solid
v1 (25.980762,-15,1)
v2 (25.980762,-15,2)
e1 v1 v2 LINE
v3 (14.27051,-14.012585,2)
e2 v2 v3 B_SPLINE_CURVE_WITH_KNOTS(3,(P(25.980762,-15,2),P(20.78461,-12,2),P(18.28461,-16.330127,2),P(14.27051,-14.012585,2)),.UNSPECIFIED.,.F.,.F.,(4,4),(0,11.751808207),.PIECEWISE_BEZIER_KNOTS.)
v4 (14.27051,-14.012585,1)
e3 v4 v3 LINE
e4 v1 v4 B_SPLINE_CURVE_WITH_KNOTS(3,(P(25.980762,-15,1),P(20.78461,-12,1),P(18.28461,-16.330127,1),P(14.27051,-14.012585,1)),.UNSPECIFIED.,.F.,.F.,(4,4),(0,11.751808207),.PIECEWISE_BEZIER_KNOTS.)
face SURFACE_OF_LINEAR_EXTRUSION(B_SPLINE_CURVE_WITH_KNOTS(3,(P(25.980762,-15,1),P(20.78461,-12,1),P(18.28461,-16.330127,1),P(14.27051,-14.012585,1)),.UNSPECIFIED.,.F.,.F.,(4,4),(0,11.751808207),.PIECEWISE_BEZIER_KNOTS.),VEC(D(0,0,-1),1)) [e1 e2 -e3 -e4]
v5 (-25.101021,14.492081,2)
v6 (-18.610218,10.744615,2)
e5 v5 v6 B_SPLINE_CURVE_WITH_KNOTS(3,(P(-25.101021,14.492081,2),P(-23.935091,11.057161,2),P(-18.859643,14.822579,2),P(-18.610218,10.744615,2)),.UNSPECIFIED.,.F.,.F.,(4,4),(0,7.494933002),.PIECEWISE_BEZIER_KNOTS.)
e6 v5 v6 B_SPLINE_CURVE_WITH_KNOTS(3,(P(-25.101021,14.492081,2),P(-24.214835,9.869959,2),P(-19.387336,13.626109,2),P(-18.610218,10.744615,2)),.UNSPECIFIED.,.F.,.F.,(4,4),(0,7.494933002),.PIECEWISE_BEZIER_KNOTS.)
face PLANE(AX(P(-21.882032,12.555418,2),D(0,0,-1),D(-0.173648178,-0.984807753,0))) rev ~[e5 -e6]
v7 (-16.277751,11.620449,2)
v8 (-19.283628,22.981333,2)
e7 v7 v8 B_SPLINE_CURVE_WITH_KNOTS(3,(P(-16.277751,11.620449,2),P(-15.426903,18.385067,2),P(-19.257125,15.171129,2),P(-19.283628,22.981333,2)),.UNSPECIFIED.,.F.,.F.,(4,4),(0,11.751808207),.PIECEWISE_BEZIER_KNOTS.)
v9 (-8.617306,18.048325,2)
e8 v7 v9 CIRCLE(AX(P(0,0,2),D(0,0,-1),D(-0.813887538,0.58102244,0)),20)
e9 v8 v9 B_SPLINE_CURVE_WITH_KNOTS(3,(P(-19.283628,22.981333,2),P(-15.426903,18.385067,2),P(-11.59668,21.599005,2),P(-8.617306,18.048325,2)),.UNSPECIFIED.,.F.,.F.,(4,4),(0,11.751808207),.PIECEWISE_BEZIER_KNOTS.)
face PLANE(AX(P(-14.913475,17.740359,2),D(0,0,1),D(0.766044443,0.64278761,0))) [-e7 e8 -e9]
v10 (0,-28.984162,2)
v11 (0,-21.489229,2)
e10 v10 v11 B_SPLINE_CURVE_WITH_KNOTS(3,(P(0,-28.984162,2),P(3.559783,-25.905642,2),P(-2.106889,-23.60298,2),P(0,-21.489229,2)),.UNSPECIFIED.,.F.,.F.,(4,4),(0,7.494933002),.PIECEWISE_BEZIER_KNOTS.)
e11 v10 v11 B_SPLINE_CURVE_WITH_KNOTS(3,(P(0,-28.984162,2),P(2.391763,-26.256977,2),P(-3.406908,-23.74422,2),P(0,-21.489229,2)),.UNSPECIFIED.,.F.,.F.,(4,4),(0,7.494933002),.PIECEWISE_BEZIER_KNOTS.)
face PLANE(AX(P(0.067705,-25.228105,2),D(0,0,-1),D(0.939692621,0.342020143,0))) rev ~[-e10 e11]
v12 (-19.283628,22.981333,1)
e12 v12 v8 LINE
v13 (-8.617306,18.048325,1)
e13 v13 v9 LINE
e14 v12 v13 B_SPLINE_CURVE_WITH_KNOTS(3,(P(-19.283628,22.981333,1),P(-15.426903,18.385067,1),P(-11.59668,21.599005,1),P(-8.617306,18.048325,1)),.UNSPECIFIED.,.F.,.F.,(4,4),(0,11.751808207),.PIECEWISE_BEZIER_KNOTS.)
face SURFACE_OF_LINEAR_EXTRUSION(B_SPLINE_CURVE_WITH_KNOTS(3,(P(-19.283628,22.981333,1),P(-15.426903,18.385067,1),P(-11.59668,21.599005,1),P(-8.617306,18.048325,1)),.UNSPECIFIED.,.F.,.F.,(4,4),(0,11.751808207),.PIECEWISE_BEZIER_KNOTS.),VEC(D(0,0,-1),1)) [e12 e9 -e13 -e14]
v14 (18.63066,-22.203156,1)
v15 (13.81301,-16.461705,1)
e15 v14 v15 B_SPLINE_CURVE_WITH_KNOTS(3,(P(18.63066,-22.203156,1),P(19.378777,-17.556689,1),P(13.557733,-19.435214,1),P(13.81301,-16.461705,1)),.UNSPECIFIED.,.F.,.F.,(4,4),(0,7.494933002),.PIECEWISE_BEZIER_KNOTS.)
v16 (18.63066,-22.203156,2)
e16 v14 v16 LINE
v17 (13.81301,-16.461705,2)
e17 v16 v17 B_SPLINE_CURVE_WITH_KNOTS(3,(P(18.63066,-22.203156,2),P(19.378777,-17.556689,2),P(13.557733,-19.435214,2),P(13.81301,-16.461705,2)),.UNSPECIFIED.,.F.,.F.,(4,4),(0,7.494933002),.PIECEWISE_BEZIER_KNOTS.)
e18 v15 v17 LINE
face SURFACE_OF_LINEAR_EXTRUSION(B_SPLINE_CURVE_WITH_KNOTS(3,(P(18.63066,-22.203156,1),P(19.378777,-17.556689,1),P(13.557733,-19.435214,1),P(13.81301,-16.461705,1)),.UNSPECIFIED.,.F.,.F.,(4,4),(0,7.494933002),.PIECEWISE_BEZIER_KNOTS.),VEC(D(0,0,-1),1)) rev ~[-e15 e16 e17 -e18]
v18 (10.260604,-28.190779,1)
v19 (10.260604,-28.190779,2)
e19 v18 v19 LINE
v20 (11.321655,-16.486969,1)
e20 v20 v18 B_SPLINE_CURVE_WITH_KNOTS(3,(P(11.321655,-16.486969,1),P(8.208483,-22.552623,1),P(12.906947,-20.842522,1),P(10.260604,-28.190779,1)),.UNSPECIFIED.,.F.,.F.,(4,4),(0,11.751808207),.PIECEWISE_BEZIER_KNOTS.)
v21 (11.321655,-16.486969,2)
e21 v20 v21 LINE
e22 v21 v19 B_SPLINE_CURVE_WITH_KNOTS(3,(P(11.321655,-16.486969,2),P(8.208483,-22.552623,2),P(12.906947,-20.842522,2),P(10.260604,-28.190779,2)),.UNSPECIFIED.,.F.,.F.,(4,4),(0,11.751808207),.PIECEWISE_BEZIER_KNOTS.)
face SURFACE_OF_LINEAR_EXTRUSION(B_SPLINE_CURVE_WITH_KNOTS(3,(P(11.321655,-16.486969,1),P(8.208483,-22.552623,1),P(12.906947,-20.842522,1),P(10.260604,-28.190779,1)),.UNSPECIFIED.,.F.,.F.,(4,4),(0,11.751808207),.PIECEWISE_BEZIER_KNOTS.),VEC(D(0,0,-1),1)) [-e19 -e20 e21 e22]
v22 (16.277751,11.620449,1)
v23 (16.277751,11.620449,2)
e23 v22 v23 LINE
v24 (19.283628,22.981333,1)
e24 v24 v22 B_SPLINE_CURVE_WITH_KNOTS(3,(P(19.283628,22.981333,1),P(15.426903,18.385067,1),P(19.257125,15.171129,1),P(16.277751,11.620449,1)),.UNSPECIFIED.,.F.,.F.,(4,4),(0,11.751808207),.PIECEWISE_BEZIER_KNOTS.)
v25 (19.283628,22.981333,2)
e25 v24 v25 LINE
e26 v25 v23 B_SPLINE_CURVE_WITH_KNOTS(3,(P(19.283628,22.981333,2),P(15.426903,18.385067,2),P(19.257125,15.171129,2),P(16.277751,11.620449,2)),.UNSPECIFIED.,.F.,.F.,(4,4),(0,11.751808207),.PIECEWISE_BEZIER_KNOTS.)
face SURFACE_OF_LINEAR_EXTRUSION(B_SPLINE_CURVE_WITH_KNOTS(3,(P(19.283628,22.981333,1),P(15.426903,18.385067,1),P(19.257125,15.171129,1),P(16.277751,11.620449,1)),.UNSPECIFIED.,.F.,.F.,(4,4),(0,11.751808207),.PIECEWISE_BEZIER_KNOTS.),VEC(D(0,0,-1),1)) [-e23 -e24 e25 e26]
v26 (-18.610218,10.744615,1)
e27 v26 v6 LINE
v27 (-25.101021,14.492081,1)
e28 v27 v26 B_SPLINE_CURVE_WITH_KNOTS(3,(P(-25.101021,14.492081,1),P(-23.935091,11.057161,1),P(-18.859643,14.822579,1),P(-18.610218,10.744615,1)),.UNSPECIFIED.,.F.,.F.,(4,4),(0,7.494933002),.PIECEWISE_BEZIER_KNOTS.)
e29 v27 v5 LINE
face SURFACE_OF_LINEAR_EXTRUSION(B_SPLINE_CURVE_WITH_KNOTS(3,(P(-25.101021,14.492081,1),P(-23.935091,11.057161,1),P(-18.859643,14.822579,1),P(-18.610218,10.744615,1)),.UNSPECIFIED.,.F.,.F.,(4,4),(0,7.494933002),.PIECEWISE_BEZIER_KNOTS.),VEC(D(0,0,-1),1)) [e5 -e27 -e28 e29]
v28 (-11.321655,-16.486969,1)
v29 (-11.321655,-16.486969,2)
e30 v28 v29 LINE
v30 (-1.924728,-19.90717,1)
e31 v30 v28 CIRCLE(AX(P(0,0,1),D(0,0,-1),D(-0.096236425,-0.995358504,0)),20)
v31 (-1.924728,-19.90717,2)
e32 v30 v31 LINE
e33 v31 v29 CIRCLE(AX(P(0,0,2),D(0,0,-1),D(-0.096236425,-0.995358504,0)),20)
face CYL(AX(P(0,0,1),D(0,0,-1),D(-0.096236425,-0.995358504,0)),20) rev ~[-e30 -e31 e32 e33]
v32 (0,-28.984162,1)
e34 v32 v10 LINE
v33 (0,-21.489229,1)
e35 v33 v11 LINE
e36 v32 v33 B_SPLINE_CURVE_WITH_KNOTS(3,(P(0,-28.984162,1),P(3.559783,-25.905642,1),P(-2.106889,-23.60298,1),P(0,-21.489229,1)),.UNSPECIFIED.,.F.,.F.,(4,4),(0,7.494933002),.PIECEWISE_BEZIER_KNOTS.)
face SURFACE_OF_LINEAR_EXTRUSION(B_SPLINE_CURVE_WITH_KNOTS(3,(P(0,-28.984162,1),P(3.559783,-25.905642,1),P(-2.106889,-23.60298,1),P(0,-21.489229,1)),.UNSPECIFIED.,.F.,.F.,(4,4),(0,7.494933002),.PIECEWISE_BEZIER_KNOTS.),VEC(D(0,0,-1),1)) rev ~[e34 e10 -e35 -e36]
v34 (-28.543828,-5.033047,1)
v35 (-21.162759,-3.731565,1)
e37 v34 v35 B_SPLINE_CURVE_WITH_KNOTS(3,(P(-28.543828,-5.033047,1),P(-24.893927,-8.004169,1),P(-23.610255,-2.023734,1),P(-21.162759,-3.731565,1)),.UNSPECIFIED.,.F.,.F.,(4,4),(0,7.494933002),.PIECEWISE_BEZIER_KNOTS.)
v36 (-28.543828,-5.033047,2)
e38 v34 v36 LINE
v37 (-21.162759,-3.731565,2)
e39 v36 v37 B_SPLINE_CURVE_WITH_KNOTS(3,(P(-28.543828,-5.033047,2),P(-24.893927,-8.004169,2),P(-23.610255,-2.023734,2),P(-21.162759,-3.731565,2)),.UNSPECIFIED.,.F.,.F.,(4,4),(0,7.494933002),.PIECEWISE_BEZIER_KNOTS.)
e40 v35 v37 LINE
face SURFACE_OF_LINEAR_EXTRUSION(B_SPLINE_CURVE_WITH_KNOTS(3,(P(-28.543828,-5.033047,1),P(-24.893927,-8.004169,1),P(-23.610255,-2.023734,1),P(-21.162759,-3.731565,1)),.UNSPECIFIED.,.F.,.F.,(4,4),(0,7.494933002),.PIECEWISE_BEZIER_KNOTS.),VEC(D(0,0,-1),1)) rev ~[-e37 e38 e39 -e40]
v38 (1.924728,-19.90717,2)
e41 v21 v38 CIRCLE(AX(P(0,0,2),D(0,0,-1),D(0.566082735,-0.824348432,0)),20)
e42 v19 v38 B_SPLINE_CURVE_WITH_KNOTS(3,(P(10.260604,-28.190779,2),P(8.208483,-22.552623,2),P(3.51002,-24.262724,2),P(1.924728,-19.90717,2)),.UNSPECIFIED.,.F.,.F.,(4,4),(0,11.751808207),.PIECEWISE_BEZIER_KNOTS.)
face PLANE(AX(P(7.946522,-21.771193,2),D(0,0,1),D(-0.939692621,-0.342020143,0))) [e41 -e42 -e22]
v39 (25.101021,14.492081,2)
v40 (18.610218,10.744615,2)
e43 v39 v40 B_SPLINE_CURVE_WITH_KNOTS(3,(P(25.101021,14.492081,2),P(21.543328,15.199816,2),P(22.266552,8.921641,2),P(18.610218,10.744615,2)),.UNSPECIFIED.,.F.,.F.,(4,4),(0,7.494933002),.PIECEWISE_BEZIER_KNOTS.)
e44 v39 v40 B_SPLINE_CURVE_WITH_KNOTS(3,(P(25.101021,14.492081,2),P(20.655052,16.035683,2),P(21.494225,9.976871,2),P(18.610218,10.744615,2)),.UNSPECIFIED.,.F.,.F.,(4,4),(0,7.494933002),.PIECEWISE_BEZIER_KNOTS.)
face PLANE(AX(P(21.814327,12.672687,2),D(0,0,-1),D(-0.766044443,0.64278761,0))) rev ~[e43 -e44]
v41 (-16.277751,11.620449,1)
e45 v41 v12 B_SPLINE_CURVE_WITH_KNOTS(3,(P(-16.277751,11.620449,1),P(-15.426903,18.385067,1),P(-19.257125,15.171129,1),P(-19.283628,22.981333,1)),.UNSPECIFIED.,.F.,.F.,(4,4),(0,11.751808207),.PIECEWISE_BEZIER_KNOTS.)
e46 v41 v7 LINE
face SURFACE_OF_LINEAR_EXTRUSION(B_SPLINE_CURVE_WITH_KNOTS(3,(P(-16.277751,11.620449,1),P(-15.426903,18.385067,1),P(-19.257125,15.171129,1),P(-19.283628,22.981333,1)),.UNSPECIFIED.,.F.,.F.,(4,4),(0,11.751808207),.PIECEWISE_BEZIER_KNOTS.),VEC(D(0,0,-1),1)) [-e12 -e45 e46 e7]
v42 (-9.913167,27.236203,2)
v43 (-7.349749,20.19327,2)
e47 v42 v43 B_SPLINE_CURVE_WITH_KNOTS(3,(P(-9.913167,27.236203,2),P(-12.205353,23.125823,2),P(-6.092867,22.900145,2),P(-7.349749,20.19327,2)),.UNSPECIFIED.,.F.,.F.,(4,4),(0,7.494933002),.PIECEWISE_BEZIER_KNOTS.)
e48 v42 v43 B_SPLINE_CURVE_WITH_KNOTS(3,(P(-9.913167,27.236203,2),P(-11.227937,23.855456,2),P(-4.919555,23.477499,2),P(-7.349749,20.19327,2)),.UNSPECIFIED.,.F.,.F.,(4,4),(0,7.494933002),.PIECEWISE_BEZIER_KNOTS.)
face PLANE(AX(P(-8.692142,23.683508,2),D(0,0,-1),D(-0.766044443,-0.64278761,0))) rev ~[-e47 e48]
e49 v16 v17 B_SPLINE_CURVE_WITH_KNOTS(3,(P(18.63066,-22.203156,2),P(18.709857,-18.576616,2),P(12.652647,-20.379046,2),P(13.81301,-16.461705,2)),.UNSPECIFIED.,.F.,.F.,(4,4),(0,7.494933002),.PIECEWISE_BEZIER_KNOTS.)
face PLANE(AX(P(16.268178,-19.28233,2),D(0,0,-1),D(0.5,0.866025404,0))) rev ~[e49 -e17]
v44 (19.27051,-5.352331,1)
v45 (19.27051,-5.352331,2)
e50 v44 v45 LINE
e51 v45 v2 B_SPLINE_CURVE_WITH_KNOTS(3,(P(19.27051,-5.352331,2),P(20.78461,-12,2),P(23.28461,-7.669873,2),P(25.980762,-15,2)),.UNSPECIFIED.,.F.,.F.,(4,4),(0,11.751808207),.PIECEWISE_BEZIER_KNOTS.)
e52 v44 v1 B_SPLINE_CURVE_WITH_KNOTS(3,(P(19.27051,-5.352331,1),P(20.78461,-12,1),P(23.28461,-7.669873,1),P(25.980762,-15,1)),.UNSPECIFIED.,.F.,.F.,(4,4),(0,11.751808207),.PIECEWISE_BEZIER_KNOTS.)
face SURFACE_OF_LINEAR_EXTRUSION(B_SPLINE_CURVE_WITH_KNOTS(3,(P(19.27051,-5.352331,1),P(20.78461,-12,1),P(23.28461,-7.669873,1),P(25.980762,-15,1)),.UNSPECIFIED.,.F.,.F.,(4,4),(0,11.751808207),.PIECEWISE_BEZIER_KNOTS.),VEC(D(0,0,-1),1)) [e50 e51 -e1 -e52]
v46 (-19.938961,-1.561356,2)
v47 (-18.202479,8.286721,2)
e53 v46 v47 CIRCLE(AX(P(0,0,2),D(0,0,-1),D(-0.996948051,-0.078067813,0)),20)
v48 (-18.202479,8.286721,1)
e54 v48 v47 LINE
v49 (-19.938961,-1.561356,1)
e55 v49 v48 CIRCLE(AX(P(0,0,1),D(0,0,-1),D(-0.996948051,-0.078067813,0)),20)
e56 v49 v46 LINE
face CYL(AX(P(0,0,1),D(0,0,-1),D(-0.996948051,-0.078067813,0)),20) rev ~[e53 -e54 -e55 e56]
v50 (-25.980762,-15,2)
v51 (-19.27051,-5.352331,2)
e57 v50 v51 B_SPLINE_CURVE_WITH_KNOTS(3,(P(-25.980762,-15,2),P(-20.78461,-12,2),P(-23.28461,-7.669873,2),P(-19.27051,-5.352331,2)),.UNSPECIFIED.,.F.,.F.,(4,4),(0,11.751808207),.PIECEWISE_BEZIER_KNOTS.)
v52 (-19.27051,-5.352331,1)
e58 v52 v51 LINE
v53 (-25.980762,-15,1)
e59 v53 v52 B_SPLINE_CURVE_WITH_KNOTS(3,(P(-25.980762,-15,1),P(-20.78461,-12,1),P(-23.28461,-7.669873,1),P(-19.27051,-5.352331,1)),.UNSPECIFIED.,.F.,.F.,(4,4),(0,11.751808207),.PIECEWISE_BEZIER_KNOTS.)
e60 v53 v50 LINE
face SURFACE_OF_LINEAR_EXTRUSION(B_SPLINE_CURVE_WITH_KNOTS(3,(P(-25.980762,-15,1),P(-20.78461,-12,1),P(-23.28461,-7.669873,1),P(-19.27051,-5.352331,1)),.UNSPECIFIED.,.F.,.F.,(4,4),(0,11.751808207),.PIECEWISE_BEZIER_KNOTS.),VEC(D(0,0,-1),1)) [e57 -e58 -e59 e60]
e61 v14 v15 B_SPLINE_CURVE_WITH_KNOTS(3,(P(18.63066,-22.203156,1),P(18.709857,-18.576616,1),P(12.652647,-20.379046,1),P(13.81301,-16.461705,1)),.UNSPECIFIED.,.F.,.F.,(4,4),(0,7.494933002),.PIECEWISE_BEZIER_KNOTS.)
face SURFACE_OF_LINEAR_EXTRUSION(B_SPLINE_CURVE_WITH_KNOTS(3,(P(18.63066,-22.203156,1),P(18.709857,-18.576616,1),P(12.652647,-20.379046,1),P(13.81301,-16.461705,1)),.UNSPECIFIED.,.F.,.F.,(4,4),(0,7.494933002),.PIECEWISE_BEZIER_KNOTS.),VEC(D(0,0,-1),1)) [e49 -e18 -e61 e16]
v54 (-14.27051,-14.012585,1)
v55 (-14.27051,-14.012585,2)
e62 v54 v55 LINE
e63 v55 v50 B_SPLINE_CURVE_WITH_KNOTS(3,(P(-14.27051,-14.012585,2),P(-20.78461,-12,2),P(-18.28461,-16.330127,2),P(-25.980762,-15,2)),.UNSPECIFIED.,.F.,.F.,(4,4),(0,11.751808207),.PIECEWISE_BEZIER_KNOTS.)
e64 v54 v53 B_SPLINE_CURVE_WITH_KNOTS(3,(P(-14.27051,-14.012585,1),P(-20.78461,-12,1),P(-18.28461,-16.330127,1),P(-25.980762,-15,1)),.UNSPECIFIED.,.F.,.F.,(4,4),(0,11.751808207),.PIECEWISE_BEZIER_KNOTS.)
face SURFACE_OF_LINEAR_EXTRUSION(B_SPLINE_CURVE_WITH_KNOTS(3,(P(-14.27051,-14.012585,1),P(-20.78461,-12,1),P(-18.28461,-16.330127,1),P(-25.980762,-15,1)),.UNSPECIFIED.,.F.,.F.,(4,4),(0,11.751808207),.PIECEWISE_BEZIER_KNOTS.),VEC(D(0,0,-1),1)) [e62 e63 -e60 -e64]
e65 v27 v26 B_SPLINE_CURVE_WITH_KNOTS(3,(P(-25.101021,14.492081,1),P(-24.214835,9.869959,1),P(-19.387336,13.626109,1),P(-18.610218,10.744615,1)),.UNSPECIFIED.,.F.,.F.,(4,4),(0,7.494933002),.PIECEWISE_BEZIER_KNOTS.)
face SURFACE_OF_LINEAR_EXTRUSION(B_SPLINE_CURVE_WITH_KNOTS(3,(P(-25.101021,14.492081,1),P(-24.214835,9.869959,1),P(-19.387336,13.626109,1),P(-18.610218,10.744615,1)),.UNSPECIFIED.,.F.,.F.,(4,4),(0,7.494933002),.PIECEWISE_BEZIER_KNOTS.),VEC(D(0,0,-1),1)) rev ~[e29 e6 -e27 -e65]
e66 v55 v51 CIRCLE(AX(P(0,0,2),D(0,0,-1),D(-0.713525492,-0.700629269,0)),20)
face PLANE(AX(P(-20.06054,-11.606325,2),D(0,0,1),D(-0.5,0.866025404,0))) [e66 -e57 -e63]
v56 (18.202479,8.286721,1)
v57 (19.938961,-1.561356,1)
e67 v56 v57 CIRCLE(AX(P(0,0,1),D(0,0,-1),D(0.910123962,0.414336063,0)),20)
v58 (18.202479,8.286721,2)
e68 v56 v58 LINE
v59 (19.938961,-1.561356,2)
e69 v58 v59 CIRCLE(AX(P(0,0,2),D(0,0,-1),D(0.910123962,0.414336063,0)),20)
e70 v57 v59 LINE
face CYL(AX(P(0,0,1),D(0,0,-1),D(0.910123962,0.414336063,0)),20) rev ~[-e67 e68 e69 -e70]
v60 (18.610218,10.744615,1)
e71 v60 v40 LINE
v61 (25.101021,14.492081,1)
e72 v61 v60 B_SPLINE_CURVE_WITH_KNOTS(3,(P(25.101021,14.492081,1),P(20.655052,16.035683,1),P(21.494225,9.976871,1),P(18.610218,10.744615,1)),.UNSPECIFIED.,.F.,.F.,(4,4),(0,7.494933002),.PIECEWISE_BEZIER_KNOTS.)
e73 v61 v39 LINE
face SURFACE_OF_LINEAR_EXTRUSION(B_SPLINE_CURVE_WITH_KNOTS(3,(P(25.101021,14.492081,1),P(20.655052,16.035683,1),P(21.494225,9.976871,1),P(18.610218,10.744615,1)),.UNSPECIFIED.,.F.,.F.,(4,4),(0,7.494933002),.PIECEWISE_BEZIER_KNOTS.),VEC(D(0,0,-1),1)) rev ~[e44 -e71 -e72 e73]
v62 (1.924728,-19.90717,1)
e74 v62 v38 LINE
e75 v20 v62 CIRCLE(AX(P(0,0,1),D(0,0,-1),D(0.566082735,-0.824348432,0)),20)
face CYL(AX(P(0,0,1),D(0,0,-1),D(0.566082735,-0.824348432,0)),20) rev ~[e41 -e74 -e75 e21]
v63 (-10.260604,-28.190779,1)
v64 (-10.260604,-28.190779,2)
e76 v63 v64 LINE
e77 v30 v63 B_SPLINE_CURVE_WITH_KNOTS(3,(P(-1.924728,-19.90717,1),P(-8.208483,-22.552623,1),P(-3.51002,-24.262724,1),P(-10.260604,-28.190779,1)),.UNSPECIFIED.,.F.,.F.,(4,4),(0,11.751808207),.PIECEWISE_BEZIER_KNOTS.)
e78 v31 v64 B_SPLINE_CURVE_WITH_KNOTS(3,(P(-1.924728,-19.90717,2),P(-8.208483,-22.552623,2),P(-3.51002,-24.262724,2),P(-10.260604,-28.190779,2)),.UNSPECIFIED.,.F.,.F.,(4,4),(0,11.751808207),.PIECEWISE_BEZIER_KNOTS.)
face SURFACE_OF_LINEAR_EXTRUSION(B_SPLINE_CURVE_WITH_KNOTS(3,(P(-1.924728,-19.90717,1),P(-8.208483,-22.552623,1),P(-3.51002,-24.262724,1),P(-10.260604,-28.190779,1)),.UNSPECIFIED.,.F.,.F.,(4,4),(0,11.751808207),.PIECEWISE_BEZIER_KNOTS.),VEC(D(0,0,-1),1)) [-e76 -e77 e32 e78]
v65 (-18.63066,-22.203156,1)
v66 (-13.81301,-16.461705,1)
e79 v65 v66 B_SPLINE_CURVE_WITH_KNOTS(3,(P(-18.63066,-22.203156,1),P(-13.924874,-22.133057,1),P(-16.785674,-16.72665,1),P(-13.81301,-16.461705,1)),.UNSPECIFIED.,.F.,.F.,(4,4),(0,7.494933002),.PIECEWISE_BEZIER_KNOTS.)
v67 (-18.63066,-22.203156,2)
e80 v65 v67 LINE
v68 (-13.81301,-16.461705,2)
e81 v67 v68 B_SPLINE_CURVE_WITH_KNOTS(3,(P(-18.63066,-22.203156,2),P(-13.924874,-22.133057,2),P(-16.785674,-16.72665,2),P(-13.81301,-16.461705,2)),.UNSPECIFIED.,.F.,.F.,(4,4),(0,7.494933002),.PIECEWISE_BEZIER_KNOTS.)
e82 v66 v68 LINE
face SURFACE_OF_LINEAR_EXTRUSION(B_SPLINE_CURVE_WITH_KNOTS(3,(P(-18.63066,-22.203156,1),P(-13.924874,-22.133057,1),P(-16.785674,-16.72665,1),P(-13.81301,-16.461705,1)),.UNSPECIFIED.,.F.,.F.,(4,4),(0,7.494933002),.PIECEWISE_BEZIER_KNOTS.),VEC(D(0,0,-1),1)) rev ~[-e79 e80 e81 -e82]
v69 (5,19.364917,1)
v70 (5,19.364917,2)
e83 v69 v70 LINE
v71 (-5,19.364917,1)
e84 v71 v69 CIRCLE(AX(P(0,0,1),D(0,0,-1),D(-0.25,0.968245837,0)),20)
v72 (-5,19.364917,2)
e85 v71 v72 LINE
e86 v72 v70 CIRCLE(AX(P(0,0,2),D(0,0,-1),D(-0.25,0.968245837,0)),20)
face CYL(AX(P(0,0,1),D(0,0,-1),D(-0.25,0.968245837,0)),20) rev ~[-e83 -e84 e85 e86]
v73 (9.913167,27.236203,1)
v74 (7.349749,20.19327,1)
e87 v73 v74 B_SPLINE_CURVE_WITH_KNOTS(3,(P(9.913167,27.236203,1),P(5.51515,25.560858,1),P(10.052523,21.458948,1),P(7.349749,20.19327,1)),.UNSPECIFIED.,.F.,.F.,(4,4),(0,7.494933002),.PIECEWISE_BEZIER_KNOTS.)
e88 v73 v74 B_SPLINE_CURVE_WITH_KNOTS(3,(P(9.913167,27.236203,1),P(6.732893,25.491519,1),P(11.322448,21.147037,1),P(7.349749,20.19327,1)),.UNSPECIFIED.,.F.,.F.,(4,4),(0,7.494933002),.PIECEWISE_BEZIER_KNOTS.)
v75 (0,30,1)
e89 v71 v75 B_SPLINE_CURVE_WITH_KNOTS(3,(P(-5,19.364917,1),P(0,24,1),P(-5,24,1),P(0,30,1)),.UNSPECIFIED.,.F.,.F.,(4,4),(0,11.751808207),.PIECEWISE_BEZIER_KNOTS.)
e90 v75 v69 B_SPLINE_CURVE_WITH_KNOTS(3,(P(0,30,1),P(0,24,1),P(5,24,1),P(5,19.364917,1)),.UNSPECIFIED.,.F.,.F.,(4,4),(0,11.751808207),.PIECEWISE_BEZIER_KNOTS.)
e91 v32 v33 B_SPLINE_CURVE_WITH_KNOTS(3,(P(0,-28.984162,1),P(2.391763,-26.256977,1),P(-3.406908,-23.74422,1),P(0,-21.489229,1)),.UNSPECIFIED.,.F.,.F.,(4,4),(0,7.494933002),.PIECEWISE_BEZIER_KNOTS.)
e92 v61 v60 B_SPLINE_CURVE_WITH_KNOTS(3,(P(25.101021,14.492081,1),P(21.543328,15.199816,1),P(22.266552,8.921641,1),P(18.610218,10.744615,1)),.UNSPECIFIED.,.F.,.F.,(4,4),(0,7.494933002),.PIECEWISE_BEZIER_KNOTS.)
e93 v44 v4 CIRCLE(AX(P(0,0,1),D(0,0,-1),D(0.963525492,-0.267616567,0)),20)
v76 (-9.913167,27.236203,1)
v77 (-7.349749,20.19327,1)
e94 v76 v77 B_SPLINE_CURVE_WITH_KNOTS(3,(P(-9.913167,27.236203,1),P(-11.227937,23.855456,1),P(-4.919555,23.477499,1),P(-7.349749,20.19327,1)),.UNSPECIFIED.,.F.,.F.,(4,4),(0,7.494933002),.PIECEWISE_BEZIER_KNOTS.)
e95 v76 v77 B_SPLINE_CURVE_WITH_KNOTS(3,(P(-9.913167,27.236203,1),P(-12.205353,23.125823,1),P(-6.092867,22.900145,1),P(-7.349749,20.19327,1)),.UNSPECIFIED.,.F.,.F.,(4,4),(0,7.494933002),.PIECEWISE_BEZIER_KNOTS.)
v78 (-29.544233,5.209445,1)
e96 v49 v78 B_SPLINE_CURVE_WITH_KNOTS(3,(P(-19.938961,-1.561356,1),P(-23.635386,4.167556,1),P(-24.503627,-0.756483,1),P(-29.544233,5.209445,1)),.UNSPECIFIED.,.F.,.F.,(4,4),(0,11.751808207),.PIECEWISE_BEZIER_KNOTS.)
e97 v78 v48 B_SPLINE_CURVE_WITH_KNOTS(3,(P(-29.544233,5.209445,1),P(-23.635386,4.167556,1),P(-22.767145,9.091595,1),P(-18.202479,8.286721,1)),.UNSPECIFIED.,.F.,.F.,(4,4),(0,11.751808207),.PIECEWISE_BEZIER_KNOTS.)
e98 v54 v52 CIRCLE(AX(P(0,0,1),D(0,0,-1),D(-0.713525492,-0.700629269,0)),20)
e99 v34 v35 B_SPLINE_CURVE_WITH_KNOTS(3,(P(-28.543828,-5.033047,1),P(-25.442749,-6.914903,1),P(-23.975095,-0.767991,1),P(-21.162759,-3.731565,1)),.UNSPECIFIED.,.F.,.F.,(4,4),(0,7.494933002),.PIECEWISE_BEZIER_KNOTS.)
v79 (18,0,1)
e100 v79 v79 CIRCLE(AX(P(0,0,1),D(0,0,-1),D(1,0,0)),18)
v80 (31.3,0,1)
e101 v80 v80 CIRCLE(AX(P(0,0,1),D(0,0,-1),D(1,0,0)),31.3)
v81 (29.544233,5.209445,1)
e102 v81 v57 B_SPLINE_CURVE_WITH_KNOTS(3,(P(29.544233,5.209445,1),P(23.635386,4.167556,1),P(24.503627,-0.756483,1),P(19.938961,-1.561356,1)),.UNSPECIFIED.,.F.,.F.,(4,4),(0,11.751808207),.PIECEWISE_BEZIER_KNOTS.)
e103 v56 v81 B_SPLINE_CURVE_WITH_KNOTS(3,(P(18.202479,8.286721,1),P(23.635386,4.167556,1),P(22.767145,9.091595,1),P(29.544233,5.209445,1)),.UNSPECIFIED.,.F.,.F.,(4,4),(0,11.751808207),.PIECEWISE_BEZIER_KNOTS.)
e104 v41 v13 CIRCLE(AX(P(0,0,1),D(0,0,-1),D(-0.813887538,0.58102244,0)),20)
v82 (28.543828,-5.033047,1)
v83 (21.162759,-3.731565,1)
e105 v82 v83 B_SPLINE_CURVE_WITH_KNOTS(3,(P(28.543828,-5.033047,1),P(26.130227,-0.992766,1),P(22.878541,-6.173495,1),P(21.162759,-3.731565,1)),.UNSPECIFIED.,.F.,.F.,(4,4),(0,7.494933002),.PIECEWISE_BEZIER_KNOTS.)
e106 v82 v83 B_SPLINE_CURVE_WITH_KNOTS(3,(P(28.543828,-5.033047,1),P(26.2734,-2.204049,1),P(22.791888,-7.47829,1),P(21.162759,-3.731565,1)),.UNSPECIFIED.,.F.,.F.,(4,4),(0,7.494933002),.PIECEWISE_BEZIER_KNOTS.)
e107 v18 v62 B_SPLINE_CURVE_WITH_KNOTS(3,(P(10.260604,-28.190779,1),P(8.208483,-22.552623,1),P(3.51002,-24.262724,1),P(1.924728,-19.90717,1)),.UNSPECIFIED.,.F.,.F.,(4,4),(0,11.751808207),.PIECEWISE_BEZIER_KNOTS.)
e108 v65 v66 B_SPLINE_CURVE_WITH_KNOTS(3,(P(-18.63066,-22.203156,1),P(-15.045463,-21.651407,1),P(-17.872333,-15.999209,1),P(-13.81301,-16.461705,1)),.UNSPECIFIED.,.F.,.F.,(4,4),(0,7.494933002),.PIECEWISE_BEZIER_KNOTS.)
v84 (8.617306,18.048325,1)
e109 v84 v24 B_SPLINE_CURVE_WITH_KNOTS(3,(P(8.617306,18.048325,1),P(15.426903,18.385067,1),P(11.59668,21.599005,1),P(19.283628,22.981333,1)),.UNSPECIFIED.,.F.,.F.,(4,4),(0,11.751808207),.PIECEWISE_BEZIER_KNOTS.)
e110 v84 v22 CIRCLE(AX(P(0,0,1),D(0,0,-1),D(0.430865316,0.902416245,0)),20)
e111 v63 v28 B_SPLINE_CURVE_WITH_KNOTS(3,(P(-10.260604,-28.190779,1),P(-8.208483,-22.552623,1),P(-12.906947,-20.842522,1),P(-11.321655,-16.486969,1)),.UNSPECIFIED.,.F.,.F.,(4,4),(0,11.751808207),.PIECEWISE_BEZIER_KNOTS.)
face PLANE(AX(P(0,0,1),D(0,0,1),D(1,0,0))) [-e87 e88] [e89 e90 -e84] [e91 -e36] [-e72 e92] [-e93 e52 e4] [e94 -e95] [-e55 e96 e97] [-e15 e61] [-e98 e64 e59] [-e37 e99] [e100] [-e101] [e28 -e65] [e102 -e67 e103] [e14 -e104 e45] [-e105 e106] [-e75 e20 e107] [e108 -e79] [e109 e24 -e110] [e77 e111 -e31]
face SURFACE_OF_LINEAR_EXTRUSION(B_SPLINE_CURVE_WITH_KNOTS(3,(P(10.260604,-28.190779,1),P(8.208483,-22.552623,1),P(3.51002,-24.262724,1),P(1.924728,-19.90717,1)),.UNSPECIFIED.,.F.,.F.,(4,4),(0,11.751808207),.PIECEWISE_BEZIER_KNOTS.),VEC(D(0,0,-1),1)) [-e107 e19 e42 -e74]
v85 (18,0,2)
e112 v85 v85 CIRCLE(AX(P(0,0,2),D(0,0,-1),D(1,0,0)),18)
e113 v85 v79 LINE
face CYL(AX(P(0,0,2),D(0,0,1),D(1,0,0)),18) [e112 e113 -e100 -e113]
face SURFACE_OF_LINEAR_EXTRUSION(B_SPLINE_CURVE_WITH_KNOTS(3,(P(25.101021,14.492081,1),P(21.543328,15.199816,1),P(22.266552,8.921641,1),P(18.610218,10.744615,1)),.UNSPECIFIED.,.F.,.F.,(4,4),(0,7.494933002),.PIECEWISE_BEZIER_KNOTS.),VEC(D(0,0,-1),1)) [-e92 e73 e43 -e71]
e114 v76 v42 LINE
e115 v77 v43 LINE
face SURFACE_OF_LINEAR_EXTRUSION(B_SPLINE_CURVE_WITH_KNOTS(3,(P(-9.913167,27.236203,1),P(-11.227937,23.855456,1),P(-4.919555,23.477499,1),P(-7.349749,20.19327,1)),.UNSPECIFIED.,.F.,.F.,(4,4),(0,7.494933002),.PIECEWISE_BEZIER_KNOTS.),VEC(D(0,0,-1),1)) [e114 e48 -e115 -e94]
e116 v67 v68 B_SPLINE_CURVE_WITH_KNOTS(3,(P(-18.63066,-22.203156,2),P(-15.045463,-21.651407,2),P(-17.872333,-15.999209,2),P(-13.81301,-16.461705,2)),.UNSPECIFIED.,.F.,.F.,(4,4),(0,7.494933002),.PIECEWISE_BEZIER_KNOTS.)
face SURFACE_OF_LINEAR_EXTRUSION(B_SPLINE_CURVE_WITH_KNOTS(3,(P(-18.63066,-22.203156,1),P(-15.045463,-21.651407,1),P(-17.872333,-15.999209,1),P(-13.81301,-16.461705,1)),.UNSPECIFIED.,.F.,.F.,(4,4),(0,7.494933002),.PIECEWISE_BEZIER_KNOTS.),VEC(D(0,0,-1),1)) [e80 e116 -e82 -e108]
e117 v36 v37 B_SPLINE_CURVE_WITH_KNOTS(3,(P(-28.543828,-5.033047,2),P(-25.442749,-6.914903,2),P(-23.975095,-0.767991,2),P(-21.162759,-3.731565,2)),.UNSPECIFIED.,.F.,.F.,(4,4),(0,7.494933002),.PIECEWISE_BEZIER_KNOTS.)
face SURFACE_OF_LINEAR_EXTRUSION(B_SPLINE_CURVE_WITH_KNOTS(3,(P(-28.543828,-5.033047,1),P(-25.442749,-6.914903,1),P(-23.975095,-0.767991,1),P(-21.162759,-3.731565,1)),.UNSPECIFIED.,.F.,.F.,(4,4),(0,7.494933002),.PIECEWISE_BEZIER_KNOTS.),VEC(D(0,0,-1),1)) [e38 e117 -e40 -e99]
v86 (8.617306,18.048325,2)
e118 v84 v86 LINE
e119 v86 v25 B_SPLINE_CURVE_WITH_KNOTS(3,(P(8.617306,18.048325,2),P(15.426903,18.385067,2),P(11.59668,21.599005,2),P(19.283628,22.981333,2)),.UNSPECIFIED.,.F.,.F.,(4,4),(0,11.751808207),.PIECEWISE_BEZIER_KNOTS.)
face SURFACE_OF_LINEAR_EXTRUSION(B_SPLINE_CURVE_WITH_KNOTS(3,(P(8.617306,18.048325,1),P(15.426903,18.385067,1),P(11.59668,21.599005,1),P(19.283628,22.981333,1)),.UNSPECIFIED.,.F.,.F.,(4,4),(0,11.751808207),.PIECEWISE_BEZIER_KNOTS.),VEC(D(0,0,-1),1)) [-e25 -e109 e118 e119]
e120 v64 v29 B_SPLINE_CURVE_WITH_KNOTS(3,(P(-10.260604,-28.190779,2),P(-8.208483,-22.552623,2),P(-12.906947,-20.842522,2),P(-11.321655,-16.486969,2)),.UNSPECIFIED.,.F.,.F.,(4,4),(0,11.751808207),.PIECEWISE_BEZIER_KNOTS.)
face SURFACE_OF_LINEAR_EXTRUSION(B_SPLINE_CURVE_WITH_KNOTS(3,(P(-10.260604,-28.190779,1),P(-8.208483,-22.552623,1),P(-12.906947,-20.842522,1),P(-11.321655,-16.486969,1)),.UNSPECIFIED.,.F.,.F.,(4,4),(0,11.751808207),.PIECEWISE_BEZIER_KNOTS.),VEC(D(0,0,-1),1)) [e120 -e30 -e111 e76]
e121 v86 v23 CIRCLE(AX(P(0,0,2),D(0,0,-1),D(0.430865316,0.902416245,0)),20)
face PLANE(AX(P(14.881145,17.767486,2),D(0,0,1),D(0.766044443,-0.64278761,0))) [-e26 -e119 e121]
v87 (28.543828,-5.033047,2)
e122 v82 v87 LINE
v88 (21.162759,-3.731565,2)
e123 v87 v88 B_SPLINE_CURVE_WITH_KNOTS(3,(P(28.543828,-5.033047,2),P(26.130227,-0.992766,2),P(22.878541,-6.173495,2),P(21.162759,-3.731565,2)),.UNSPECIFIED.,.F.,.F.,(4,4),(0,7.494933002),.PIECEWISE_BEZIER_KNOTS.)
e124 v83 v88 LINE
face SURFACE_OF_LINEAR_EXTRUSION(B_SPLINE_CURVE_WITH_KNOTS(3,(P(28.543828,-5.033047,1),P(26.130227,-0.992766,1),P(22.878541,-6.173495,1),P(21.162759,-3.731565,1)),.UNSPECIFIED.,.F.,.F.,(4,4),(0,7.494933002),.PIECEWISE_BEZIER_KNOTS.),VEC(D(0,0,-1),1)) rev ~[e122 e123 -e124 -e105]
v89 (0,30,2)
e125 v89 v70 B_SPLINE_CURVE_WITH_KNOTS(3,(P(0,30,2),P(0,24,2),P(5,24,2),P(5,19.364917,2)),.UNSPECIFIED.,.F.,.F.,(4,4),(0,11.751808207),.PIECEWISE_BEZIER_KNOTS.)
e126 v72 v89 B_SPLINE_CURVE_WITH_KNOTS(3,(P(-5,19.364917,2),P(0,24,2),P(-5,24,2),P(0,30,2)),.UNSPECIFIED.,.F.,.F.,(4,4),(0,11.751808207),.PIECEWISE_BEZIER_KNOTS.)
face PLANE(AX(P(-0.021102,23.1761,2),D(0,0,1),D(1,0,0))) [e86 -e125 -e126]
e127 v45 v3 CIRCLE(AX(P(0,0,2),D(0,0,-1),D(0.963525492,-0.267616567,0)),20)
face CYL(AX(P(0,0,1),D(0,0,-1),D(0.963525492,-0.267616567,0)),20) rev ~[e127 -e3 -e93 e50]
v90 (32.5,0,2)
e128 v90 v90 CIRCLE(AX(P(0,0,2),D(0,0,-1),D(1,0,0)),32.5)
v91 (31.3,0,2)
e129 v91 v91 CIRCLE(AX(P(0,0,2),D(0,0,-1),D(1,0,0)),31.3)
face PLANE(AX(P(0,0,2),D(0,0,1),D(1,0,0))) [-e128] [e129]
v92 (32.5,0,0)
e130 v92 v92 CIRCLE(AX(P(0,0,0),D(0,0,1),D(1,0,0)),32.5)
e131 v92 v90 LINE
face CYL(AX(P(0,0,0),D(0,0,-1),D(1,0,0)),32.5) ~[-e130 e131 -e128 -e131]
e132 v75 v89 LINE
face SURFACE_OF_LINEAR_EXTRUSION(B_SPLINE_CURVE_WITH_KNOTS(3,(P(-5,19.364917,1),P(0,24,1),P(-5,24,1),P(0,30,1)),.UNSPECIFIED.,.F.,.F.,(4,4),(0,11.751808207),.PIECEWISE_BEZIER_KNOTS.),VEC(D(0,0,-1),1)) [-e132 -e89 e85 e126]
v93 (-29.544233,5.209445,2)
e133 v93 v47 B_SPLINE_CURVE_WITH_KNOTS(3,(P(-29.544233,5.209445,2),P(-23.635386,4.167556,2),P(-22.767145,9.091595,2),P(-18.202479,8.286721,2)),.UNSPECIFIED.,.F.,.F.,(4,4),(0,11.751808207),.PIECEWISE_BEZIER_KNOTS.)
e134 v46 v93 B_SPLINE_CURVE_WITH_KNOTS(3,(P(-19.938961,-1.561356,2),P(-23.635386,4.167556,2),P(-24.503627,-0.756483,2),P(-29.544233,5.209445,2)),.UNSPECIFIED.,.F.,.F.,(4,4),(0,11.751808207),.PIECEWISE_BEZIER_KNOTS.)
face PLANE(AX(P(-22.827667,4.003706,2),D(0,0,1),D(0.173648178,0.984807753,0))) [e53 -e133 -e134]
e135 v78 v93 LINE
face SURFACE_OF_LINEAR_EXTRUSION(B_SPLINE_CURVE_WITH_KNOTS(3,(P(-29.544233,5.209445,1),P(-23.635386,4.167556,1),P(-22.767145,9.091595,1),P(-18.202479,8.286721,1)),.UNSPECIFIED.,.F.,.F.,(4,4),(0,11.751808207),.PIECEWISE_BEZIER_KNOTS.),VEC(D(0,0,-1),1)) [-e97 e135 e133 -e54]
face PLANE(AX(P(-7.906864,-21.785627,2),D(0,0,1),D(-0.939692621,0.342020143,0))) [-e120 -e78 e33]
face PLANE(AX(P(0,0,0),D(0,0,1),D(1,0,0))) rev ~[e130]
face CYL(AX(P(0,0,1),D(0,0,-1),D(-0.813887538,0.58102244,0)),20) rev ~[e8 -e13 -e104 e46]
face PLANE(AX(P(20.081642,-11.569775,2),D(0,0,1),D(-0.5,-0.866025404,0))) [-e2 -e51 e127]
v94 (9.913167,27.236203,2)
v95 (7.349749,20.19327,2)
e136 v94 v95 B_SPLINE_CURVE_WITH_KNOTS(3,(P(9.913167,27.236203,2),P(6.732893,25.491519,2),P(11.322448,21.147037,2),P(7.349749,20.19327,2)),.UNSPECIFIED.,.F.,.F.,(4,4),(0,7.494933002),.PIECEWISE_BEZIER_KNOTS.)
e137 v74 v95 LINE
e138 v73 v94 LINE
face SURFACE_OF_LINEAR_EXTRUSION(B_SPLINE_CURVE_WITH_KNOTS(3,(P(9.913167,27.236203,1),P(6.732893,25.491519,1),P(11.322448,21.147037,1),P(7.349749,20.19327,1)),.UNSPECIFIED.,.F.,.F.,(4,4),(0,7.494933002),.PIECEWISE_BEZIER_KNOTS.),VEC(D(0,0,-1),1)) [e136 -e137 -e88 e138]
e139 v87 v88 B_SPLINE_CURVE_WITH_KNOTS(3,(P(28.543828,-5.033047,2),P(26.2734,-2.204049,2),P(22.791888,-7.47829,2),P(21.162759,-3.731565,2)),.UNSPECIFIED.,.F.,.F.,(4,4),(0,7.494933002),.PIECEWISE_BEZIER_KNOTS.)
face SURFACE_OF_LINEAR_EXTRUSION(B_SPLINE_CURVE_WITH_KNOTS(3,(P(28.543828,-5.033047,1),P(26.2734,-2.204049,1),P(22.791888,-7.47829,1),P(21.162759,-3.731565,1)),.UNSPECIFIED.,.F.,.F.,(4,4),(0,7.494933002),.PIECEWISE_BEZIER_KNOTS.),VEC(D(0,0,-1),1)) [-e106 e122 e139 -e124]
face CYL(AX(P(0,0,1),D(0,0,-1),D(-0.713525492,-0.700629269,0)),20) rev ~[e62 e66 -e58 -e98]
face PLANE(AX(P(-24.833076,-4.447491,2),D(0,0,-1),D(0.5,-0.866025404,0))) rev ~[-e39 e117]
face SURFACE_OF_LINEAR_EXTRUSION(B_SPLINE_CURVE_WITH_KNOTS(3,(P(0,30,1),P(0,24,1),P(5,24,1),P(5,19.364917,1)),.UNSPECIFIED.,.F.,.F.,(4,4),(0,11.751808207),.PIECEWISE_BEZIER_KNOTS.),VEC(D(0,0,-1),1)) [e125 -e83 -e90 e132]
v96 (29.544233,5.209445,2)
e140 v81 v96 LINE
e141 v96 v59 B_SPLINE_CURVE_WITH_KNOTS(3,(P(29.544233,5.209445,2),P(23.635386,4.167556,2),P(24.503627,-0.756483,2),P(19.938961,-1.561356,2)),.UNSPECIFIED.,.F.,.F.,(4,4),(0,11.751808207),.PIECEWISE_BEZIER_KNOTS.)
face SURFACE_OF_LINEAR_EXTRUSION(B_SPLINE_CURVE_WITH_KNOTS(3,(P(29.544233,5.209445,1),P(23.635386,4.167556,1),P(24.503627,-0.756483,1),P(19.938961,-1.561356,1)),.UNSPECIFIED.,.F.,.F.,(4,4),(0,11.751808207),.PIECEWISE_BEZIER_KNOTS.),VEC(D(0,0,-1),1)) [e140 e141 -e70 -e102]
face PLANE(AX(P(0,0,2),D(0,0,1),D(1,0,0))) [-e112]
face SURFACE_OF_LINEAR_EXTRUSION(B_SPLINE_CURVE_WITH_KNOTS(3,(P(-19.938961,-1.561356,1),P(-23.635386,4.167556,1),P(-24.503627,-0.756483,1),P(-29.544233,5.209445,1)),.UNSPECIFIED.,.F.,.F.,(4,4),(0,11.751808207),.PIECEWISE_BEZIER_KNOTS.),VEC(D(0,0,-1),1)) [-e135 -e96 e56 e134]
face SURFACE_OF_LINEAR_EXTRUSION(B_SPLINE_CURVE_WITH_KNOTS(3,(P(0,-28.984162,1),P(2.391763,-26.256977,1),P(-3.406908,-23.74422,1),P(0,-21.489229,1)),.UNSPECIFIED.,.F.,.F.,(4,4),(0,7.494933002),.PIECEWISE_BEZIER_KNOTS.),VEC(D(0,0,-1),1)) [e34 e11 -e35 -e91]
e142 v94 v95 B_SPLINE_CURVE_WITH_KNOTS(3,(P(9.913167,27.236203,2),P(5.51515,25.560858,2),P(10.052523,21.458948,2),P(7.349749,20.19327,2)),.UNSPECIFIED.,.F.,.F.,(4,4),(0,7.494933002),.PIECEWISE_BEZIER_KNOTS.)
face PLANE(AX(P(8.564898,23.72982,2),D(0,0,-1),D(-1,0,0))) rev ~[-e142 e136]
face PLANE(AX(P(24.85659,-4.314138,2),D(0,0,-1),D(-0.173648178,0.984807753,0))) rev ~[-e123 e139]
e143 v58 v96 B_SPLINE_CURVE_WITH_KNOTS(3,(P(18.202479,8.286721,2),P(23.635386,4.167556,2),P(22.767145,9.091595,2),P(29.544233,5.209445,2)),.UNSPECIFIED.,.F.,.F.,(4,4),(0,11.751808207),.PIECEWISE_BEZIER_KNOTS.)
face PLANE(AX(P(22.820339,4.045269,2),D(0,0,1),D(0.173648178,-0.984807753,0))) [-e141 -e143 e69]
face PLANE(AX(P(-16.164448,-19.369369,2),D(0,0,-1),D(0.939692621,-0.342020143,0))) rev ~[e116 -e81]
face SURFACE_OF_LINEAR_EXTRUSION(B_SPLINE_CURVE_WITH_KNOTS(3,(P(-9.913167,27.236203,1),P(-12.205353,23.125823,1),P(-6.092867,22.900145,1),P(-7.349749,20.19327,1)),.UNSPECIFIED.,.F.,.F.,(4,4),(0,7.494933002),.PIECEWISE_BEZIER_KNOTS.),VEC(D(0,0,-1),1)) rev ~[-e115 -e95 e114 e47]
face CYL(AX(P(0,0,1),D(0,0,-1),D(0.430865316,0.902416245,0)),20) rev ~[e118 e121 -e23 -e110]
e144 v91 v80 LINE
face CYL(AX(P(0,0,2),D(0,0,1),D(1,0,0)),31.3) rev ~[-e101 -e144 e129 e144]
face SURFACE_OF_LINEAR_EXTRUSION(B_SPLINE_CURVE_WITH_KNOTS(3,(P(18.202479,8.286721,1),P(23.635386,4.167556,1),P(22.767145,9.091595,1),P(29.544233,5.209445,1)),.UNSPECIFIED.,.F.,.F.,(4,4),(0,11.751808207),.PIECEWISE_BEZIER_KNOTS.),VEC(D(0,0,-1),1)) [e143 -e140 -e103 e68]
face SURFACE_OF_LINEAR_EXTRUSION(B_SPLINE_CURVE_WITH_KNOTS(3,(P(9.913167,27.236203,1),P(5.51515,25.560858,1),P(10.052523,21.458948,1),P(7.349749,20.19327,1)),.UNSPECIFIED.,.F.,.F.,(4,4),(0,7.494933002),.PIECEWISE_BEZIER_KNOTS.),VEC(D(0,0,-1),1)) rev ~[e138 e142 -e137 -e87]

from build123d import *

# Parameters (mm, degrees)
F0_R     = 32.5
F1_DEPTH = 2
F2_R     = 31.3
F2_R_2   = 18
F3_DEPTH = 1
F5_DEPTH = 1
F6_COUNT = 9


with BuildPart() as f1:
    # F0 (on Top) → F1 (new body)
    with BuildSketch(Plane.XY):
        Circle(F0_R)
    extrude(amount=F1_DEPTH)

    # F2 (on face) → F3 (cut)
    with BuildSketch(Plane.XY.offset(2)):
        Circle(F2_R)
        Circle(F2_R_2, mode=Mode.SUBTRACT)
    extrude(amount=-F3_DEPTH, mode=Mode.SUBTRACT)

    # F4 (on face) → F5 (join, through all)
    with BuildSketch(Plane.XY.offset(1)):
        with BuildLine():
            ThreePointArc((-5, 19.364916731), (0, 20), (5, 19.364916731))
            add(Edge.make_bspline(
                [(0, 30), (0, 24), (5, 24), (5, 19.364916731)],
                knots=[0, 0, 0, 0, 11.7518082072, 11.7518082072, 11.7518082072, 11.7518082072], degree=3))
            add(Edge.make_bspline(
                [(-5, 19.364916731), (0, 24), (-5, 24), (0, 30)],
                knots=[0, 0, 0, 0, 11.7518082072, 11.7518082072, 11.7518082072, 11.7518082072], degree=3))
        make_face()
        with BuildLine():
            add(Edge.make_bspline(
                [(9.9131672787, 27.2362032534), (6.7328927107, 25.4915188998), (11.3224480301, 21.147036925), (7.3497492192, 20.1932700184)],
                knots=[0, 0, 0, 0, 7.4949330017, 7.4949330017, 7.4949330017, 7.4949330017], degree=3))
            add(Edge.make_bspline(
                [(9.9131672787, 27.2362032534), (5.5151497945, 25.5608577281), (10.0525226444, 21.4589480311), (7.3497492192, 20.1932700184)],
                knots=[0, 0, 0, 0, 7.4949330017, 7.4949330017, 7.4949330017, 7.4949330017], degree=3))
        make_face()
    extrude(amount=F5_DEPTH)

    # F6: F1 ×9 about axis
    f6_axis = Axis((0, 0, 0), (0, 0, -1))


with BuildPart() as f1_1:
    add(f1.part)
    for i in range(1, F6_COUNT):
        add(f1.part.rotate(f6_axis, i * 360 / F6_COUNT))


solid = f1_1.part
